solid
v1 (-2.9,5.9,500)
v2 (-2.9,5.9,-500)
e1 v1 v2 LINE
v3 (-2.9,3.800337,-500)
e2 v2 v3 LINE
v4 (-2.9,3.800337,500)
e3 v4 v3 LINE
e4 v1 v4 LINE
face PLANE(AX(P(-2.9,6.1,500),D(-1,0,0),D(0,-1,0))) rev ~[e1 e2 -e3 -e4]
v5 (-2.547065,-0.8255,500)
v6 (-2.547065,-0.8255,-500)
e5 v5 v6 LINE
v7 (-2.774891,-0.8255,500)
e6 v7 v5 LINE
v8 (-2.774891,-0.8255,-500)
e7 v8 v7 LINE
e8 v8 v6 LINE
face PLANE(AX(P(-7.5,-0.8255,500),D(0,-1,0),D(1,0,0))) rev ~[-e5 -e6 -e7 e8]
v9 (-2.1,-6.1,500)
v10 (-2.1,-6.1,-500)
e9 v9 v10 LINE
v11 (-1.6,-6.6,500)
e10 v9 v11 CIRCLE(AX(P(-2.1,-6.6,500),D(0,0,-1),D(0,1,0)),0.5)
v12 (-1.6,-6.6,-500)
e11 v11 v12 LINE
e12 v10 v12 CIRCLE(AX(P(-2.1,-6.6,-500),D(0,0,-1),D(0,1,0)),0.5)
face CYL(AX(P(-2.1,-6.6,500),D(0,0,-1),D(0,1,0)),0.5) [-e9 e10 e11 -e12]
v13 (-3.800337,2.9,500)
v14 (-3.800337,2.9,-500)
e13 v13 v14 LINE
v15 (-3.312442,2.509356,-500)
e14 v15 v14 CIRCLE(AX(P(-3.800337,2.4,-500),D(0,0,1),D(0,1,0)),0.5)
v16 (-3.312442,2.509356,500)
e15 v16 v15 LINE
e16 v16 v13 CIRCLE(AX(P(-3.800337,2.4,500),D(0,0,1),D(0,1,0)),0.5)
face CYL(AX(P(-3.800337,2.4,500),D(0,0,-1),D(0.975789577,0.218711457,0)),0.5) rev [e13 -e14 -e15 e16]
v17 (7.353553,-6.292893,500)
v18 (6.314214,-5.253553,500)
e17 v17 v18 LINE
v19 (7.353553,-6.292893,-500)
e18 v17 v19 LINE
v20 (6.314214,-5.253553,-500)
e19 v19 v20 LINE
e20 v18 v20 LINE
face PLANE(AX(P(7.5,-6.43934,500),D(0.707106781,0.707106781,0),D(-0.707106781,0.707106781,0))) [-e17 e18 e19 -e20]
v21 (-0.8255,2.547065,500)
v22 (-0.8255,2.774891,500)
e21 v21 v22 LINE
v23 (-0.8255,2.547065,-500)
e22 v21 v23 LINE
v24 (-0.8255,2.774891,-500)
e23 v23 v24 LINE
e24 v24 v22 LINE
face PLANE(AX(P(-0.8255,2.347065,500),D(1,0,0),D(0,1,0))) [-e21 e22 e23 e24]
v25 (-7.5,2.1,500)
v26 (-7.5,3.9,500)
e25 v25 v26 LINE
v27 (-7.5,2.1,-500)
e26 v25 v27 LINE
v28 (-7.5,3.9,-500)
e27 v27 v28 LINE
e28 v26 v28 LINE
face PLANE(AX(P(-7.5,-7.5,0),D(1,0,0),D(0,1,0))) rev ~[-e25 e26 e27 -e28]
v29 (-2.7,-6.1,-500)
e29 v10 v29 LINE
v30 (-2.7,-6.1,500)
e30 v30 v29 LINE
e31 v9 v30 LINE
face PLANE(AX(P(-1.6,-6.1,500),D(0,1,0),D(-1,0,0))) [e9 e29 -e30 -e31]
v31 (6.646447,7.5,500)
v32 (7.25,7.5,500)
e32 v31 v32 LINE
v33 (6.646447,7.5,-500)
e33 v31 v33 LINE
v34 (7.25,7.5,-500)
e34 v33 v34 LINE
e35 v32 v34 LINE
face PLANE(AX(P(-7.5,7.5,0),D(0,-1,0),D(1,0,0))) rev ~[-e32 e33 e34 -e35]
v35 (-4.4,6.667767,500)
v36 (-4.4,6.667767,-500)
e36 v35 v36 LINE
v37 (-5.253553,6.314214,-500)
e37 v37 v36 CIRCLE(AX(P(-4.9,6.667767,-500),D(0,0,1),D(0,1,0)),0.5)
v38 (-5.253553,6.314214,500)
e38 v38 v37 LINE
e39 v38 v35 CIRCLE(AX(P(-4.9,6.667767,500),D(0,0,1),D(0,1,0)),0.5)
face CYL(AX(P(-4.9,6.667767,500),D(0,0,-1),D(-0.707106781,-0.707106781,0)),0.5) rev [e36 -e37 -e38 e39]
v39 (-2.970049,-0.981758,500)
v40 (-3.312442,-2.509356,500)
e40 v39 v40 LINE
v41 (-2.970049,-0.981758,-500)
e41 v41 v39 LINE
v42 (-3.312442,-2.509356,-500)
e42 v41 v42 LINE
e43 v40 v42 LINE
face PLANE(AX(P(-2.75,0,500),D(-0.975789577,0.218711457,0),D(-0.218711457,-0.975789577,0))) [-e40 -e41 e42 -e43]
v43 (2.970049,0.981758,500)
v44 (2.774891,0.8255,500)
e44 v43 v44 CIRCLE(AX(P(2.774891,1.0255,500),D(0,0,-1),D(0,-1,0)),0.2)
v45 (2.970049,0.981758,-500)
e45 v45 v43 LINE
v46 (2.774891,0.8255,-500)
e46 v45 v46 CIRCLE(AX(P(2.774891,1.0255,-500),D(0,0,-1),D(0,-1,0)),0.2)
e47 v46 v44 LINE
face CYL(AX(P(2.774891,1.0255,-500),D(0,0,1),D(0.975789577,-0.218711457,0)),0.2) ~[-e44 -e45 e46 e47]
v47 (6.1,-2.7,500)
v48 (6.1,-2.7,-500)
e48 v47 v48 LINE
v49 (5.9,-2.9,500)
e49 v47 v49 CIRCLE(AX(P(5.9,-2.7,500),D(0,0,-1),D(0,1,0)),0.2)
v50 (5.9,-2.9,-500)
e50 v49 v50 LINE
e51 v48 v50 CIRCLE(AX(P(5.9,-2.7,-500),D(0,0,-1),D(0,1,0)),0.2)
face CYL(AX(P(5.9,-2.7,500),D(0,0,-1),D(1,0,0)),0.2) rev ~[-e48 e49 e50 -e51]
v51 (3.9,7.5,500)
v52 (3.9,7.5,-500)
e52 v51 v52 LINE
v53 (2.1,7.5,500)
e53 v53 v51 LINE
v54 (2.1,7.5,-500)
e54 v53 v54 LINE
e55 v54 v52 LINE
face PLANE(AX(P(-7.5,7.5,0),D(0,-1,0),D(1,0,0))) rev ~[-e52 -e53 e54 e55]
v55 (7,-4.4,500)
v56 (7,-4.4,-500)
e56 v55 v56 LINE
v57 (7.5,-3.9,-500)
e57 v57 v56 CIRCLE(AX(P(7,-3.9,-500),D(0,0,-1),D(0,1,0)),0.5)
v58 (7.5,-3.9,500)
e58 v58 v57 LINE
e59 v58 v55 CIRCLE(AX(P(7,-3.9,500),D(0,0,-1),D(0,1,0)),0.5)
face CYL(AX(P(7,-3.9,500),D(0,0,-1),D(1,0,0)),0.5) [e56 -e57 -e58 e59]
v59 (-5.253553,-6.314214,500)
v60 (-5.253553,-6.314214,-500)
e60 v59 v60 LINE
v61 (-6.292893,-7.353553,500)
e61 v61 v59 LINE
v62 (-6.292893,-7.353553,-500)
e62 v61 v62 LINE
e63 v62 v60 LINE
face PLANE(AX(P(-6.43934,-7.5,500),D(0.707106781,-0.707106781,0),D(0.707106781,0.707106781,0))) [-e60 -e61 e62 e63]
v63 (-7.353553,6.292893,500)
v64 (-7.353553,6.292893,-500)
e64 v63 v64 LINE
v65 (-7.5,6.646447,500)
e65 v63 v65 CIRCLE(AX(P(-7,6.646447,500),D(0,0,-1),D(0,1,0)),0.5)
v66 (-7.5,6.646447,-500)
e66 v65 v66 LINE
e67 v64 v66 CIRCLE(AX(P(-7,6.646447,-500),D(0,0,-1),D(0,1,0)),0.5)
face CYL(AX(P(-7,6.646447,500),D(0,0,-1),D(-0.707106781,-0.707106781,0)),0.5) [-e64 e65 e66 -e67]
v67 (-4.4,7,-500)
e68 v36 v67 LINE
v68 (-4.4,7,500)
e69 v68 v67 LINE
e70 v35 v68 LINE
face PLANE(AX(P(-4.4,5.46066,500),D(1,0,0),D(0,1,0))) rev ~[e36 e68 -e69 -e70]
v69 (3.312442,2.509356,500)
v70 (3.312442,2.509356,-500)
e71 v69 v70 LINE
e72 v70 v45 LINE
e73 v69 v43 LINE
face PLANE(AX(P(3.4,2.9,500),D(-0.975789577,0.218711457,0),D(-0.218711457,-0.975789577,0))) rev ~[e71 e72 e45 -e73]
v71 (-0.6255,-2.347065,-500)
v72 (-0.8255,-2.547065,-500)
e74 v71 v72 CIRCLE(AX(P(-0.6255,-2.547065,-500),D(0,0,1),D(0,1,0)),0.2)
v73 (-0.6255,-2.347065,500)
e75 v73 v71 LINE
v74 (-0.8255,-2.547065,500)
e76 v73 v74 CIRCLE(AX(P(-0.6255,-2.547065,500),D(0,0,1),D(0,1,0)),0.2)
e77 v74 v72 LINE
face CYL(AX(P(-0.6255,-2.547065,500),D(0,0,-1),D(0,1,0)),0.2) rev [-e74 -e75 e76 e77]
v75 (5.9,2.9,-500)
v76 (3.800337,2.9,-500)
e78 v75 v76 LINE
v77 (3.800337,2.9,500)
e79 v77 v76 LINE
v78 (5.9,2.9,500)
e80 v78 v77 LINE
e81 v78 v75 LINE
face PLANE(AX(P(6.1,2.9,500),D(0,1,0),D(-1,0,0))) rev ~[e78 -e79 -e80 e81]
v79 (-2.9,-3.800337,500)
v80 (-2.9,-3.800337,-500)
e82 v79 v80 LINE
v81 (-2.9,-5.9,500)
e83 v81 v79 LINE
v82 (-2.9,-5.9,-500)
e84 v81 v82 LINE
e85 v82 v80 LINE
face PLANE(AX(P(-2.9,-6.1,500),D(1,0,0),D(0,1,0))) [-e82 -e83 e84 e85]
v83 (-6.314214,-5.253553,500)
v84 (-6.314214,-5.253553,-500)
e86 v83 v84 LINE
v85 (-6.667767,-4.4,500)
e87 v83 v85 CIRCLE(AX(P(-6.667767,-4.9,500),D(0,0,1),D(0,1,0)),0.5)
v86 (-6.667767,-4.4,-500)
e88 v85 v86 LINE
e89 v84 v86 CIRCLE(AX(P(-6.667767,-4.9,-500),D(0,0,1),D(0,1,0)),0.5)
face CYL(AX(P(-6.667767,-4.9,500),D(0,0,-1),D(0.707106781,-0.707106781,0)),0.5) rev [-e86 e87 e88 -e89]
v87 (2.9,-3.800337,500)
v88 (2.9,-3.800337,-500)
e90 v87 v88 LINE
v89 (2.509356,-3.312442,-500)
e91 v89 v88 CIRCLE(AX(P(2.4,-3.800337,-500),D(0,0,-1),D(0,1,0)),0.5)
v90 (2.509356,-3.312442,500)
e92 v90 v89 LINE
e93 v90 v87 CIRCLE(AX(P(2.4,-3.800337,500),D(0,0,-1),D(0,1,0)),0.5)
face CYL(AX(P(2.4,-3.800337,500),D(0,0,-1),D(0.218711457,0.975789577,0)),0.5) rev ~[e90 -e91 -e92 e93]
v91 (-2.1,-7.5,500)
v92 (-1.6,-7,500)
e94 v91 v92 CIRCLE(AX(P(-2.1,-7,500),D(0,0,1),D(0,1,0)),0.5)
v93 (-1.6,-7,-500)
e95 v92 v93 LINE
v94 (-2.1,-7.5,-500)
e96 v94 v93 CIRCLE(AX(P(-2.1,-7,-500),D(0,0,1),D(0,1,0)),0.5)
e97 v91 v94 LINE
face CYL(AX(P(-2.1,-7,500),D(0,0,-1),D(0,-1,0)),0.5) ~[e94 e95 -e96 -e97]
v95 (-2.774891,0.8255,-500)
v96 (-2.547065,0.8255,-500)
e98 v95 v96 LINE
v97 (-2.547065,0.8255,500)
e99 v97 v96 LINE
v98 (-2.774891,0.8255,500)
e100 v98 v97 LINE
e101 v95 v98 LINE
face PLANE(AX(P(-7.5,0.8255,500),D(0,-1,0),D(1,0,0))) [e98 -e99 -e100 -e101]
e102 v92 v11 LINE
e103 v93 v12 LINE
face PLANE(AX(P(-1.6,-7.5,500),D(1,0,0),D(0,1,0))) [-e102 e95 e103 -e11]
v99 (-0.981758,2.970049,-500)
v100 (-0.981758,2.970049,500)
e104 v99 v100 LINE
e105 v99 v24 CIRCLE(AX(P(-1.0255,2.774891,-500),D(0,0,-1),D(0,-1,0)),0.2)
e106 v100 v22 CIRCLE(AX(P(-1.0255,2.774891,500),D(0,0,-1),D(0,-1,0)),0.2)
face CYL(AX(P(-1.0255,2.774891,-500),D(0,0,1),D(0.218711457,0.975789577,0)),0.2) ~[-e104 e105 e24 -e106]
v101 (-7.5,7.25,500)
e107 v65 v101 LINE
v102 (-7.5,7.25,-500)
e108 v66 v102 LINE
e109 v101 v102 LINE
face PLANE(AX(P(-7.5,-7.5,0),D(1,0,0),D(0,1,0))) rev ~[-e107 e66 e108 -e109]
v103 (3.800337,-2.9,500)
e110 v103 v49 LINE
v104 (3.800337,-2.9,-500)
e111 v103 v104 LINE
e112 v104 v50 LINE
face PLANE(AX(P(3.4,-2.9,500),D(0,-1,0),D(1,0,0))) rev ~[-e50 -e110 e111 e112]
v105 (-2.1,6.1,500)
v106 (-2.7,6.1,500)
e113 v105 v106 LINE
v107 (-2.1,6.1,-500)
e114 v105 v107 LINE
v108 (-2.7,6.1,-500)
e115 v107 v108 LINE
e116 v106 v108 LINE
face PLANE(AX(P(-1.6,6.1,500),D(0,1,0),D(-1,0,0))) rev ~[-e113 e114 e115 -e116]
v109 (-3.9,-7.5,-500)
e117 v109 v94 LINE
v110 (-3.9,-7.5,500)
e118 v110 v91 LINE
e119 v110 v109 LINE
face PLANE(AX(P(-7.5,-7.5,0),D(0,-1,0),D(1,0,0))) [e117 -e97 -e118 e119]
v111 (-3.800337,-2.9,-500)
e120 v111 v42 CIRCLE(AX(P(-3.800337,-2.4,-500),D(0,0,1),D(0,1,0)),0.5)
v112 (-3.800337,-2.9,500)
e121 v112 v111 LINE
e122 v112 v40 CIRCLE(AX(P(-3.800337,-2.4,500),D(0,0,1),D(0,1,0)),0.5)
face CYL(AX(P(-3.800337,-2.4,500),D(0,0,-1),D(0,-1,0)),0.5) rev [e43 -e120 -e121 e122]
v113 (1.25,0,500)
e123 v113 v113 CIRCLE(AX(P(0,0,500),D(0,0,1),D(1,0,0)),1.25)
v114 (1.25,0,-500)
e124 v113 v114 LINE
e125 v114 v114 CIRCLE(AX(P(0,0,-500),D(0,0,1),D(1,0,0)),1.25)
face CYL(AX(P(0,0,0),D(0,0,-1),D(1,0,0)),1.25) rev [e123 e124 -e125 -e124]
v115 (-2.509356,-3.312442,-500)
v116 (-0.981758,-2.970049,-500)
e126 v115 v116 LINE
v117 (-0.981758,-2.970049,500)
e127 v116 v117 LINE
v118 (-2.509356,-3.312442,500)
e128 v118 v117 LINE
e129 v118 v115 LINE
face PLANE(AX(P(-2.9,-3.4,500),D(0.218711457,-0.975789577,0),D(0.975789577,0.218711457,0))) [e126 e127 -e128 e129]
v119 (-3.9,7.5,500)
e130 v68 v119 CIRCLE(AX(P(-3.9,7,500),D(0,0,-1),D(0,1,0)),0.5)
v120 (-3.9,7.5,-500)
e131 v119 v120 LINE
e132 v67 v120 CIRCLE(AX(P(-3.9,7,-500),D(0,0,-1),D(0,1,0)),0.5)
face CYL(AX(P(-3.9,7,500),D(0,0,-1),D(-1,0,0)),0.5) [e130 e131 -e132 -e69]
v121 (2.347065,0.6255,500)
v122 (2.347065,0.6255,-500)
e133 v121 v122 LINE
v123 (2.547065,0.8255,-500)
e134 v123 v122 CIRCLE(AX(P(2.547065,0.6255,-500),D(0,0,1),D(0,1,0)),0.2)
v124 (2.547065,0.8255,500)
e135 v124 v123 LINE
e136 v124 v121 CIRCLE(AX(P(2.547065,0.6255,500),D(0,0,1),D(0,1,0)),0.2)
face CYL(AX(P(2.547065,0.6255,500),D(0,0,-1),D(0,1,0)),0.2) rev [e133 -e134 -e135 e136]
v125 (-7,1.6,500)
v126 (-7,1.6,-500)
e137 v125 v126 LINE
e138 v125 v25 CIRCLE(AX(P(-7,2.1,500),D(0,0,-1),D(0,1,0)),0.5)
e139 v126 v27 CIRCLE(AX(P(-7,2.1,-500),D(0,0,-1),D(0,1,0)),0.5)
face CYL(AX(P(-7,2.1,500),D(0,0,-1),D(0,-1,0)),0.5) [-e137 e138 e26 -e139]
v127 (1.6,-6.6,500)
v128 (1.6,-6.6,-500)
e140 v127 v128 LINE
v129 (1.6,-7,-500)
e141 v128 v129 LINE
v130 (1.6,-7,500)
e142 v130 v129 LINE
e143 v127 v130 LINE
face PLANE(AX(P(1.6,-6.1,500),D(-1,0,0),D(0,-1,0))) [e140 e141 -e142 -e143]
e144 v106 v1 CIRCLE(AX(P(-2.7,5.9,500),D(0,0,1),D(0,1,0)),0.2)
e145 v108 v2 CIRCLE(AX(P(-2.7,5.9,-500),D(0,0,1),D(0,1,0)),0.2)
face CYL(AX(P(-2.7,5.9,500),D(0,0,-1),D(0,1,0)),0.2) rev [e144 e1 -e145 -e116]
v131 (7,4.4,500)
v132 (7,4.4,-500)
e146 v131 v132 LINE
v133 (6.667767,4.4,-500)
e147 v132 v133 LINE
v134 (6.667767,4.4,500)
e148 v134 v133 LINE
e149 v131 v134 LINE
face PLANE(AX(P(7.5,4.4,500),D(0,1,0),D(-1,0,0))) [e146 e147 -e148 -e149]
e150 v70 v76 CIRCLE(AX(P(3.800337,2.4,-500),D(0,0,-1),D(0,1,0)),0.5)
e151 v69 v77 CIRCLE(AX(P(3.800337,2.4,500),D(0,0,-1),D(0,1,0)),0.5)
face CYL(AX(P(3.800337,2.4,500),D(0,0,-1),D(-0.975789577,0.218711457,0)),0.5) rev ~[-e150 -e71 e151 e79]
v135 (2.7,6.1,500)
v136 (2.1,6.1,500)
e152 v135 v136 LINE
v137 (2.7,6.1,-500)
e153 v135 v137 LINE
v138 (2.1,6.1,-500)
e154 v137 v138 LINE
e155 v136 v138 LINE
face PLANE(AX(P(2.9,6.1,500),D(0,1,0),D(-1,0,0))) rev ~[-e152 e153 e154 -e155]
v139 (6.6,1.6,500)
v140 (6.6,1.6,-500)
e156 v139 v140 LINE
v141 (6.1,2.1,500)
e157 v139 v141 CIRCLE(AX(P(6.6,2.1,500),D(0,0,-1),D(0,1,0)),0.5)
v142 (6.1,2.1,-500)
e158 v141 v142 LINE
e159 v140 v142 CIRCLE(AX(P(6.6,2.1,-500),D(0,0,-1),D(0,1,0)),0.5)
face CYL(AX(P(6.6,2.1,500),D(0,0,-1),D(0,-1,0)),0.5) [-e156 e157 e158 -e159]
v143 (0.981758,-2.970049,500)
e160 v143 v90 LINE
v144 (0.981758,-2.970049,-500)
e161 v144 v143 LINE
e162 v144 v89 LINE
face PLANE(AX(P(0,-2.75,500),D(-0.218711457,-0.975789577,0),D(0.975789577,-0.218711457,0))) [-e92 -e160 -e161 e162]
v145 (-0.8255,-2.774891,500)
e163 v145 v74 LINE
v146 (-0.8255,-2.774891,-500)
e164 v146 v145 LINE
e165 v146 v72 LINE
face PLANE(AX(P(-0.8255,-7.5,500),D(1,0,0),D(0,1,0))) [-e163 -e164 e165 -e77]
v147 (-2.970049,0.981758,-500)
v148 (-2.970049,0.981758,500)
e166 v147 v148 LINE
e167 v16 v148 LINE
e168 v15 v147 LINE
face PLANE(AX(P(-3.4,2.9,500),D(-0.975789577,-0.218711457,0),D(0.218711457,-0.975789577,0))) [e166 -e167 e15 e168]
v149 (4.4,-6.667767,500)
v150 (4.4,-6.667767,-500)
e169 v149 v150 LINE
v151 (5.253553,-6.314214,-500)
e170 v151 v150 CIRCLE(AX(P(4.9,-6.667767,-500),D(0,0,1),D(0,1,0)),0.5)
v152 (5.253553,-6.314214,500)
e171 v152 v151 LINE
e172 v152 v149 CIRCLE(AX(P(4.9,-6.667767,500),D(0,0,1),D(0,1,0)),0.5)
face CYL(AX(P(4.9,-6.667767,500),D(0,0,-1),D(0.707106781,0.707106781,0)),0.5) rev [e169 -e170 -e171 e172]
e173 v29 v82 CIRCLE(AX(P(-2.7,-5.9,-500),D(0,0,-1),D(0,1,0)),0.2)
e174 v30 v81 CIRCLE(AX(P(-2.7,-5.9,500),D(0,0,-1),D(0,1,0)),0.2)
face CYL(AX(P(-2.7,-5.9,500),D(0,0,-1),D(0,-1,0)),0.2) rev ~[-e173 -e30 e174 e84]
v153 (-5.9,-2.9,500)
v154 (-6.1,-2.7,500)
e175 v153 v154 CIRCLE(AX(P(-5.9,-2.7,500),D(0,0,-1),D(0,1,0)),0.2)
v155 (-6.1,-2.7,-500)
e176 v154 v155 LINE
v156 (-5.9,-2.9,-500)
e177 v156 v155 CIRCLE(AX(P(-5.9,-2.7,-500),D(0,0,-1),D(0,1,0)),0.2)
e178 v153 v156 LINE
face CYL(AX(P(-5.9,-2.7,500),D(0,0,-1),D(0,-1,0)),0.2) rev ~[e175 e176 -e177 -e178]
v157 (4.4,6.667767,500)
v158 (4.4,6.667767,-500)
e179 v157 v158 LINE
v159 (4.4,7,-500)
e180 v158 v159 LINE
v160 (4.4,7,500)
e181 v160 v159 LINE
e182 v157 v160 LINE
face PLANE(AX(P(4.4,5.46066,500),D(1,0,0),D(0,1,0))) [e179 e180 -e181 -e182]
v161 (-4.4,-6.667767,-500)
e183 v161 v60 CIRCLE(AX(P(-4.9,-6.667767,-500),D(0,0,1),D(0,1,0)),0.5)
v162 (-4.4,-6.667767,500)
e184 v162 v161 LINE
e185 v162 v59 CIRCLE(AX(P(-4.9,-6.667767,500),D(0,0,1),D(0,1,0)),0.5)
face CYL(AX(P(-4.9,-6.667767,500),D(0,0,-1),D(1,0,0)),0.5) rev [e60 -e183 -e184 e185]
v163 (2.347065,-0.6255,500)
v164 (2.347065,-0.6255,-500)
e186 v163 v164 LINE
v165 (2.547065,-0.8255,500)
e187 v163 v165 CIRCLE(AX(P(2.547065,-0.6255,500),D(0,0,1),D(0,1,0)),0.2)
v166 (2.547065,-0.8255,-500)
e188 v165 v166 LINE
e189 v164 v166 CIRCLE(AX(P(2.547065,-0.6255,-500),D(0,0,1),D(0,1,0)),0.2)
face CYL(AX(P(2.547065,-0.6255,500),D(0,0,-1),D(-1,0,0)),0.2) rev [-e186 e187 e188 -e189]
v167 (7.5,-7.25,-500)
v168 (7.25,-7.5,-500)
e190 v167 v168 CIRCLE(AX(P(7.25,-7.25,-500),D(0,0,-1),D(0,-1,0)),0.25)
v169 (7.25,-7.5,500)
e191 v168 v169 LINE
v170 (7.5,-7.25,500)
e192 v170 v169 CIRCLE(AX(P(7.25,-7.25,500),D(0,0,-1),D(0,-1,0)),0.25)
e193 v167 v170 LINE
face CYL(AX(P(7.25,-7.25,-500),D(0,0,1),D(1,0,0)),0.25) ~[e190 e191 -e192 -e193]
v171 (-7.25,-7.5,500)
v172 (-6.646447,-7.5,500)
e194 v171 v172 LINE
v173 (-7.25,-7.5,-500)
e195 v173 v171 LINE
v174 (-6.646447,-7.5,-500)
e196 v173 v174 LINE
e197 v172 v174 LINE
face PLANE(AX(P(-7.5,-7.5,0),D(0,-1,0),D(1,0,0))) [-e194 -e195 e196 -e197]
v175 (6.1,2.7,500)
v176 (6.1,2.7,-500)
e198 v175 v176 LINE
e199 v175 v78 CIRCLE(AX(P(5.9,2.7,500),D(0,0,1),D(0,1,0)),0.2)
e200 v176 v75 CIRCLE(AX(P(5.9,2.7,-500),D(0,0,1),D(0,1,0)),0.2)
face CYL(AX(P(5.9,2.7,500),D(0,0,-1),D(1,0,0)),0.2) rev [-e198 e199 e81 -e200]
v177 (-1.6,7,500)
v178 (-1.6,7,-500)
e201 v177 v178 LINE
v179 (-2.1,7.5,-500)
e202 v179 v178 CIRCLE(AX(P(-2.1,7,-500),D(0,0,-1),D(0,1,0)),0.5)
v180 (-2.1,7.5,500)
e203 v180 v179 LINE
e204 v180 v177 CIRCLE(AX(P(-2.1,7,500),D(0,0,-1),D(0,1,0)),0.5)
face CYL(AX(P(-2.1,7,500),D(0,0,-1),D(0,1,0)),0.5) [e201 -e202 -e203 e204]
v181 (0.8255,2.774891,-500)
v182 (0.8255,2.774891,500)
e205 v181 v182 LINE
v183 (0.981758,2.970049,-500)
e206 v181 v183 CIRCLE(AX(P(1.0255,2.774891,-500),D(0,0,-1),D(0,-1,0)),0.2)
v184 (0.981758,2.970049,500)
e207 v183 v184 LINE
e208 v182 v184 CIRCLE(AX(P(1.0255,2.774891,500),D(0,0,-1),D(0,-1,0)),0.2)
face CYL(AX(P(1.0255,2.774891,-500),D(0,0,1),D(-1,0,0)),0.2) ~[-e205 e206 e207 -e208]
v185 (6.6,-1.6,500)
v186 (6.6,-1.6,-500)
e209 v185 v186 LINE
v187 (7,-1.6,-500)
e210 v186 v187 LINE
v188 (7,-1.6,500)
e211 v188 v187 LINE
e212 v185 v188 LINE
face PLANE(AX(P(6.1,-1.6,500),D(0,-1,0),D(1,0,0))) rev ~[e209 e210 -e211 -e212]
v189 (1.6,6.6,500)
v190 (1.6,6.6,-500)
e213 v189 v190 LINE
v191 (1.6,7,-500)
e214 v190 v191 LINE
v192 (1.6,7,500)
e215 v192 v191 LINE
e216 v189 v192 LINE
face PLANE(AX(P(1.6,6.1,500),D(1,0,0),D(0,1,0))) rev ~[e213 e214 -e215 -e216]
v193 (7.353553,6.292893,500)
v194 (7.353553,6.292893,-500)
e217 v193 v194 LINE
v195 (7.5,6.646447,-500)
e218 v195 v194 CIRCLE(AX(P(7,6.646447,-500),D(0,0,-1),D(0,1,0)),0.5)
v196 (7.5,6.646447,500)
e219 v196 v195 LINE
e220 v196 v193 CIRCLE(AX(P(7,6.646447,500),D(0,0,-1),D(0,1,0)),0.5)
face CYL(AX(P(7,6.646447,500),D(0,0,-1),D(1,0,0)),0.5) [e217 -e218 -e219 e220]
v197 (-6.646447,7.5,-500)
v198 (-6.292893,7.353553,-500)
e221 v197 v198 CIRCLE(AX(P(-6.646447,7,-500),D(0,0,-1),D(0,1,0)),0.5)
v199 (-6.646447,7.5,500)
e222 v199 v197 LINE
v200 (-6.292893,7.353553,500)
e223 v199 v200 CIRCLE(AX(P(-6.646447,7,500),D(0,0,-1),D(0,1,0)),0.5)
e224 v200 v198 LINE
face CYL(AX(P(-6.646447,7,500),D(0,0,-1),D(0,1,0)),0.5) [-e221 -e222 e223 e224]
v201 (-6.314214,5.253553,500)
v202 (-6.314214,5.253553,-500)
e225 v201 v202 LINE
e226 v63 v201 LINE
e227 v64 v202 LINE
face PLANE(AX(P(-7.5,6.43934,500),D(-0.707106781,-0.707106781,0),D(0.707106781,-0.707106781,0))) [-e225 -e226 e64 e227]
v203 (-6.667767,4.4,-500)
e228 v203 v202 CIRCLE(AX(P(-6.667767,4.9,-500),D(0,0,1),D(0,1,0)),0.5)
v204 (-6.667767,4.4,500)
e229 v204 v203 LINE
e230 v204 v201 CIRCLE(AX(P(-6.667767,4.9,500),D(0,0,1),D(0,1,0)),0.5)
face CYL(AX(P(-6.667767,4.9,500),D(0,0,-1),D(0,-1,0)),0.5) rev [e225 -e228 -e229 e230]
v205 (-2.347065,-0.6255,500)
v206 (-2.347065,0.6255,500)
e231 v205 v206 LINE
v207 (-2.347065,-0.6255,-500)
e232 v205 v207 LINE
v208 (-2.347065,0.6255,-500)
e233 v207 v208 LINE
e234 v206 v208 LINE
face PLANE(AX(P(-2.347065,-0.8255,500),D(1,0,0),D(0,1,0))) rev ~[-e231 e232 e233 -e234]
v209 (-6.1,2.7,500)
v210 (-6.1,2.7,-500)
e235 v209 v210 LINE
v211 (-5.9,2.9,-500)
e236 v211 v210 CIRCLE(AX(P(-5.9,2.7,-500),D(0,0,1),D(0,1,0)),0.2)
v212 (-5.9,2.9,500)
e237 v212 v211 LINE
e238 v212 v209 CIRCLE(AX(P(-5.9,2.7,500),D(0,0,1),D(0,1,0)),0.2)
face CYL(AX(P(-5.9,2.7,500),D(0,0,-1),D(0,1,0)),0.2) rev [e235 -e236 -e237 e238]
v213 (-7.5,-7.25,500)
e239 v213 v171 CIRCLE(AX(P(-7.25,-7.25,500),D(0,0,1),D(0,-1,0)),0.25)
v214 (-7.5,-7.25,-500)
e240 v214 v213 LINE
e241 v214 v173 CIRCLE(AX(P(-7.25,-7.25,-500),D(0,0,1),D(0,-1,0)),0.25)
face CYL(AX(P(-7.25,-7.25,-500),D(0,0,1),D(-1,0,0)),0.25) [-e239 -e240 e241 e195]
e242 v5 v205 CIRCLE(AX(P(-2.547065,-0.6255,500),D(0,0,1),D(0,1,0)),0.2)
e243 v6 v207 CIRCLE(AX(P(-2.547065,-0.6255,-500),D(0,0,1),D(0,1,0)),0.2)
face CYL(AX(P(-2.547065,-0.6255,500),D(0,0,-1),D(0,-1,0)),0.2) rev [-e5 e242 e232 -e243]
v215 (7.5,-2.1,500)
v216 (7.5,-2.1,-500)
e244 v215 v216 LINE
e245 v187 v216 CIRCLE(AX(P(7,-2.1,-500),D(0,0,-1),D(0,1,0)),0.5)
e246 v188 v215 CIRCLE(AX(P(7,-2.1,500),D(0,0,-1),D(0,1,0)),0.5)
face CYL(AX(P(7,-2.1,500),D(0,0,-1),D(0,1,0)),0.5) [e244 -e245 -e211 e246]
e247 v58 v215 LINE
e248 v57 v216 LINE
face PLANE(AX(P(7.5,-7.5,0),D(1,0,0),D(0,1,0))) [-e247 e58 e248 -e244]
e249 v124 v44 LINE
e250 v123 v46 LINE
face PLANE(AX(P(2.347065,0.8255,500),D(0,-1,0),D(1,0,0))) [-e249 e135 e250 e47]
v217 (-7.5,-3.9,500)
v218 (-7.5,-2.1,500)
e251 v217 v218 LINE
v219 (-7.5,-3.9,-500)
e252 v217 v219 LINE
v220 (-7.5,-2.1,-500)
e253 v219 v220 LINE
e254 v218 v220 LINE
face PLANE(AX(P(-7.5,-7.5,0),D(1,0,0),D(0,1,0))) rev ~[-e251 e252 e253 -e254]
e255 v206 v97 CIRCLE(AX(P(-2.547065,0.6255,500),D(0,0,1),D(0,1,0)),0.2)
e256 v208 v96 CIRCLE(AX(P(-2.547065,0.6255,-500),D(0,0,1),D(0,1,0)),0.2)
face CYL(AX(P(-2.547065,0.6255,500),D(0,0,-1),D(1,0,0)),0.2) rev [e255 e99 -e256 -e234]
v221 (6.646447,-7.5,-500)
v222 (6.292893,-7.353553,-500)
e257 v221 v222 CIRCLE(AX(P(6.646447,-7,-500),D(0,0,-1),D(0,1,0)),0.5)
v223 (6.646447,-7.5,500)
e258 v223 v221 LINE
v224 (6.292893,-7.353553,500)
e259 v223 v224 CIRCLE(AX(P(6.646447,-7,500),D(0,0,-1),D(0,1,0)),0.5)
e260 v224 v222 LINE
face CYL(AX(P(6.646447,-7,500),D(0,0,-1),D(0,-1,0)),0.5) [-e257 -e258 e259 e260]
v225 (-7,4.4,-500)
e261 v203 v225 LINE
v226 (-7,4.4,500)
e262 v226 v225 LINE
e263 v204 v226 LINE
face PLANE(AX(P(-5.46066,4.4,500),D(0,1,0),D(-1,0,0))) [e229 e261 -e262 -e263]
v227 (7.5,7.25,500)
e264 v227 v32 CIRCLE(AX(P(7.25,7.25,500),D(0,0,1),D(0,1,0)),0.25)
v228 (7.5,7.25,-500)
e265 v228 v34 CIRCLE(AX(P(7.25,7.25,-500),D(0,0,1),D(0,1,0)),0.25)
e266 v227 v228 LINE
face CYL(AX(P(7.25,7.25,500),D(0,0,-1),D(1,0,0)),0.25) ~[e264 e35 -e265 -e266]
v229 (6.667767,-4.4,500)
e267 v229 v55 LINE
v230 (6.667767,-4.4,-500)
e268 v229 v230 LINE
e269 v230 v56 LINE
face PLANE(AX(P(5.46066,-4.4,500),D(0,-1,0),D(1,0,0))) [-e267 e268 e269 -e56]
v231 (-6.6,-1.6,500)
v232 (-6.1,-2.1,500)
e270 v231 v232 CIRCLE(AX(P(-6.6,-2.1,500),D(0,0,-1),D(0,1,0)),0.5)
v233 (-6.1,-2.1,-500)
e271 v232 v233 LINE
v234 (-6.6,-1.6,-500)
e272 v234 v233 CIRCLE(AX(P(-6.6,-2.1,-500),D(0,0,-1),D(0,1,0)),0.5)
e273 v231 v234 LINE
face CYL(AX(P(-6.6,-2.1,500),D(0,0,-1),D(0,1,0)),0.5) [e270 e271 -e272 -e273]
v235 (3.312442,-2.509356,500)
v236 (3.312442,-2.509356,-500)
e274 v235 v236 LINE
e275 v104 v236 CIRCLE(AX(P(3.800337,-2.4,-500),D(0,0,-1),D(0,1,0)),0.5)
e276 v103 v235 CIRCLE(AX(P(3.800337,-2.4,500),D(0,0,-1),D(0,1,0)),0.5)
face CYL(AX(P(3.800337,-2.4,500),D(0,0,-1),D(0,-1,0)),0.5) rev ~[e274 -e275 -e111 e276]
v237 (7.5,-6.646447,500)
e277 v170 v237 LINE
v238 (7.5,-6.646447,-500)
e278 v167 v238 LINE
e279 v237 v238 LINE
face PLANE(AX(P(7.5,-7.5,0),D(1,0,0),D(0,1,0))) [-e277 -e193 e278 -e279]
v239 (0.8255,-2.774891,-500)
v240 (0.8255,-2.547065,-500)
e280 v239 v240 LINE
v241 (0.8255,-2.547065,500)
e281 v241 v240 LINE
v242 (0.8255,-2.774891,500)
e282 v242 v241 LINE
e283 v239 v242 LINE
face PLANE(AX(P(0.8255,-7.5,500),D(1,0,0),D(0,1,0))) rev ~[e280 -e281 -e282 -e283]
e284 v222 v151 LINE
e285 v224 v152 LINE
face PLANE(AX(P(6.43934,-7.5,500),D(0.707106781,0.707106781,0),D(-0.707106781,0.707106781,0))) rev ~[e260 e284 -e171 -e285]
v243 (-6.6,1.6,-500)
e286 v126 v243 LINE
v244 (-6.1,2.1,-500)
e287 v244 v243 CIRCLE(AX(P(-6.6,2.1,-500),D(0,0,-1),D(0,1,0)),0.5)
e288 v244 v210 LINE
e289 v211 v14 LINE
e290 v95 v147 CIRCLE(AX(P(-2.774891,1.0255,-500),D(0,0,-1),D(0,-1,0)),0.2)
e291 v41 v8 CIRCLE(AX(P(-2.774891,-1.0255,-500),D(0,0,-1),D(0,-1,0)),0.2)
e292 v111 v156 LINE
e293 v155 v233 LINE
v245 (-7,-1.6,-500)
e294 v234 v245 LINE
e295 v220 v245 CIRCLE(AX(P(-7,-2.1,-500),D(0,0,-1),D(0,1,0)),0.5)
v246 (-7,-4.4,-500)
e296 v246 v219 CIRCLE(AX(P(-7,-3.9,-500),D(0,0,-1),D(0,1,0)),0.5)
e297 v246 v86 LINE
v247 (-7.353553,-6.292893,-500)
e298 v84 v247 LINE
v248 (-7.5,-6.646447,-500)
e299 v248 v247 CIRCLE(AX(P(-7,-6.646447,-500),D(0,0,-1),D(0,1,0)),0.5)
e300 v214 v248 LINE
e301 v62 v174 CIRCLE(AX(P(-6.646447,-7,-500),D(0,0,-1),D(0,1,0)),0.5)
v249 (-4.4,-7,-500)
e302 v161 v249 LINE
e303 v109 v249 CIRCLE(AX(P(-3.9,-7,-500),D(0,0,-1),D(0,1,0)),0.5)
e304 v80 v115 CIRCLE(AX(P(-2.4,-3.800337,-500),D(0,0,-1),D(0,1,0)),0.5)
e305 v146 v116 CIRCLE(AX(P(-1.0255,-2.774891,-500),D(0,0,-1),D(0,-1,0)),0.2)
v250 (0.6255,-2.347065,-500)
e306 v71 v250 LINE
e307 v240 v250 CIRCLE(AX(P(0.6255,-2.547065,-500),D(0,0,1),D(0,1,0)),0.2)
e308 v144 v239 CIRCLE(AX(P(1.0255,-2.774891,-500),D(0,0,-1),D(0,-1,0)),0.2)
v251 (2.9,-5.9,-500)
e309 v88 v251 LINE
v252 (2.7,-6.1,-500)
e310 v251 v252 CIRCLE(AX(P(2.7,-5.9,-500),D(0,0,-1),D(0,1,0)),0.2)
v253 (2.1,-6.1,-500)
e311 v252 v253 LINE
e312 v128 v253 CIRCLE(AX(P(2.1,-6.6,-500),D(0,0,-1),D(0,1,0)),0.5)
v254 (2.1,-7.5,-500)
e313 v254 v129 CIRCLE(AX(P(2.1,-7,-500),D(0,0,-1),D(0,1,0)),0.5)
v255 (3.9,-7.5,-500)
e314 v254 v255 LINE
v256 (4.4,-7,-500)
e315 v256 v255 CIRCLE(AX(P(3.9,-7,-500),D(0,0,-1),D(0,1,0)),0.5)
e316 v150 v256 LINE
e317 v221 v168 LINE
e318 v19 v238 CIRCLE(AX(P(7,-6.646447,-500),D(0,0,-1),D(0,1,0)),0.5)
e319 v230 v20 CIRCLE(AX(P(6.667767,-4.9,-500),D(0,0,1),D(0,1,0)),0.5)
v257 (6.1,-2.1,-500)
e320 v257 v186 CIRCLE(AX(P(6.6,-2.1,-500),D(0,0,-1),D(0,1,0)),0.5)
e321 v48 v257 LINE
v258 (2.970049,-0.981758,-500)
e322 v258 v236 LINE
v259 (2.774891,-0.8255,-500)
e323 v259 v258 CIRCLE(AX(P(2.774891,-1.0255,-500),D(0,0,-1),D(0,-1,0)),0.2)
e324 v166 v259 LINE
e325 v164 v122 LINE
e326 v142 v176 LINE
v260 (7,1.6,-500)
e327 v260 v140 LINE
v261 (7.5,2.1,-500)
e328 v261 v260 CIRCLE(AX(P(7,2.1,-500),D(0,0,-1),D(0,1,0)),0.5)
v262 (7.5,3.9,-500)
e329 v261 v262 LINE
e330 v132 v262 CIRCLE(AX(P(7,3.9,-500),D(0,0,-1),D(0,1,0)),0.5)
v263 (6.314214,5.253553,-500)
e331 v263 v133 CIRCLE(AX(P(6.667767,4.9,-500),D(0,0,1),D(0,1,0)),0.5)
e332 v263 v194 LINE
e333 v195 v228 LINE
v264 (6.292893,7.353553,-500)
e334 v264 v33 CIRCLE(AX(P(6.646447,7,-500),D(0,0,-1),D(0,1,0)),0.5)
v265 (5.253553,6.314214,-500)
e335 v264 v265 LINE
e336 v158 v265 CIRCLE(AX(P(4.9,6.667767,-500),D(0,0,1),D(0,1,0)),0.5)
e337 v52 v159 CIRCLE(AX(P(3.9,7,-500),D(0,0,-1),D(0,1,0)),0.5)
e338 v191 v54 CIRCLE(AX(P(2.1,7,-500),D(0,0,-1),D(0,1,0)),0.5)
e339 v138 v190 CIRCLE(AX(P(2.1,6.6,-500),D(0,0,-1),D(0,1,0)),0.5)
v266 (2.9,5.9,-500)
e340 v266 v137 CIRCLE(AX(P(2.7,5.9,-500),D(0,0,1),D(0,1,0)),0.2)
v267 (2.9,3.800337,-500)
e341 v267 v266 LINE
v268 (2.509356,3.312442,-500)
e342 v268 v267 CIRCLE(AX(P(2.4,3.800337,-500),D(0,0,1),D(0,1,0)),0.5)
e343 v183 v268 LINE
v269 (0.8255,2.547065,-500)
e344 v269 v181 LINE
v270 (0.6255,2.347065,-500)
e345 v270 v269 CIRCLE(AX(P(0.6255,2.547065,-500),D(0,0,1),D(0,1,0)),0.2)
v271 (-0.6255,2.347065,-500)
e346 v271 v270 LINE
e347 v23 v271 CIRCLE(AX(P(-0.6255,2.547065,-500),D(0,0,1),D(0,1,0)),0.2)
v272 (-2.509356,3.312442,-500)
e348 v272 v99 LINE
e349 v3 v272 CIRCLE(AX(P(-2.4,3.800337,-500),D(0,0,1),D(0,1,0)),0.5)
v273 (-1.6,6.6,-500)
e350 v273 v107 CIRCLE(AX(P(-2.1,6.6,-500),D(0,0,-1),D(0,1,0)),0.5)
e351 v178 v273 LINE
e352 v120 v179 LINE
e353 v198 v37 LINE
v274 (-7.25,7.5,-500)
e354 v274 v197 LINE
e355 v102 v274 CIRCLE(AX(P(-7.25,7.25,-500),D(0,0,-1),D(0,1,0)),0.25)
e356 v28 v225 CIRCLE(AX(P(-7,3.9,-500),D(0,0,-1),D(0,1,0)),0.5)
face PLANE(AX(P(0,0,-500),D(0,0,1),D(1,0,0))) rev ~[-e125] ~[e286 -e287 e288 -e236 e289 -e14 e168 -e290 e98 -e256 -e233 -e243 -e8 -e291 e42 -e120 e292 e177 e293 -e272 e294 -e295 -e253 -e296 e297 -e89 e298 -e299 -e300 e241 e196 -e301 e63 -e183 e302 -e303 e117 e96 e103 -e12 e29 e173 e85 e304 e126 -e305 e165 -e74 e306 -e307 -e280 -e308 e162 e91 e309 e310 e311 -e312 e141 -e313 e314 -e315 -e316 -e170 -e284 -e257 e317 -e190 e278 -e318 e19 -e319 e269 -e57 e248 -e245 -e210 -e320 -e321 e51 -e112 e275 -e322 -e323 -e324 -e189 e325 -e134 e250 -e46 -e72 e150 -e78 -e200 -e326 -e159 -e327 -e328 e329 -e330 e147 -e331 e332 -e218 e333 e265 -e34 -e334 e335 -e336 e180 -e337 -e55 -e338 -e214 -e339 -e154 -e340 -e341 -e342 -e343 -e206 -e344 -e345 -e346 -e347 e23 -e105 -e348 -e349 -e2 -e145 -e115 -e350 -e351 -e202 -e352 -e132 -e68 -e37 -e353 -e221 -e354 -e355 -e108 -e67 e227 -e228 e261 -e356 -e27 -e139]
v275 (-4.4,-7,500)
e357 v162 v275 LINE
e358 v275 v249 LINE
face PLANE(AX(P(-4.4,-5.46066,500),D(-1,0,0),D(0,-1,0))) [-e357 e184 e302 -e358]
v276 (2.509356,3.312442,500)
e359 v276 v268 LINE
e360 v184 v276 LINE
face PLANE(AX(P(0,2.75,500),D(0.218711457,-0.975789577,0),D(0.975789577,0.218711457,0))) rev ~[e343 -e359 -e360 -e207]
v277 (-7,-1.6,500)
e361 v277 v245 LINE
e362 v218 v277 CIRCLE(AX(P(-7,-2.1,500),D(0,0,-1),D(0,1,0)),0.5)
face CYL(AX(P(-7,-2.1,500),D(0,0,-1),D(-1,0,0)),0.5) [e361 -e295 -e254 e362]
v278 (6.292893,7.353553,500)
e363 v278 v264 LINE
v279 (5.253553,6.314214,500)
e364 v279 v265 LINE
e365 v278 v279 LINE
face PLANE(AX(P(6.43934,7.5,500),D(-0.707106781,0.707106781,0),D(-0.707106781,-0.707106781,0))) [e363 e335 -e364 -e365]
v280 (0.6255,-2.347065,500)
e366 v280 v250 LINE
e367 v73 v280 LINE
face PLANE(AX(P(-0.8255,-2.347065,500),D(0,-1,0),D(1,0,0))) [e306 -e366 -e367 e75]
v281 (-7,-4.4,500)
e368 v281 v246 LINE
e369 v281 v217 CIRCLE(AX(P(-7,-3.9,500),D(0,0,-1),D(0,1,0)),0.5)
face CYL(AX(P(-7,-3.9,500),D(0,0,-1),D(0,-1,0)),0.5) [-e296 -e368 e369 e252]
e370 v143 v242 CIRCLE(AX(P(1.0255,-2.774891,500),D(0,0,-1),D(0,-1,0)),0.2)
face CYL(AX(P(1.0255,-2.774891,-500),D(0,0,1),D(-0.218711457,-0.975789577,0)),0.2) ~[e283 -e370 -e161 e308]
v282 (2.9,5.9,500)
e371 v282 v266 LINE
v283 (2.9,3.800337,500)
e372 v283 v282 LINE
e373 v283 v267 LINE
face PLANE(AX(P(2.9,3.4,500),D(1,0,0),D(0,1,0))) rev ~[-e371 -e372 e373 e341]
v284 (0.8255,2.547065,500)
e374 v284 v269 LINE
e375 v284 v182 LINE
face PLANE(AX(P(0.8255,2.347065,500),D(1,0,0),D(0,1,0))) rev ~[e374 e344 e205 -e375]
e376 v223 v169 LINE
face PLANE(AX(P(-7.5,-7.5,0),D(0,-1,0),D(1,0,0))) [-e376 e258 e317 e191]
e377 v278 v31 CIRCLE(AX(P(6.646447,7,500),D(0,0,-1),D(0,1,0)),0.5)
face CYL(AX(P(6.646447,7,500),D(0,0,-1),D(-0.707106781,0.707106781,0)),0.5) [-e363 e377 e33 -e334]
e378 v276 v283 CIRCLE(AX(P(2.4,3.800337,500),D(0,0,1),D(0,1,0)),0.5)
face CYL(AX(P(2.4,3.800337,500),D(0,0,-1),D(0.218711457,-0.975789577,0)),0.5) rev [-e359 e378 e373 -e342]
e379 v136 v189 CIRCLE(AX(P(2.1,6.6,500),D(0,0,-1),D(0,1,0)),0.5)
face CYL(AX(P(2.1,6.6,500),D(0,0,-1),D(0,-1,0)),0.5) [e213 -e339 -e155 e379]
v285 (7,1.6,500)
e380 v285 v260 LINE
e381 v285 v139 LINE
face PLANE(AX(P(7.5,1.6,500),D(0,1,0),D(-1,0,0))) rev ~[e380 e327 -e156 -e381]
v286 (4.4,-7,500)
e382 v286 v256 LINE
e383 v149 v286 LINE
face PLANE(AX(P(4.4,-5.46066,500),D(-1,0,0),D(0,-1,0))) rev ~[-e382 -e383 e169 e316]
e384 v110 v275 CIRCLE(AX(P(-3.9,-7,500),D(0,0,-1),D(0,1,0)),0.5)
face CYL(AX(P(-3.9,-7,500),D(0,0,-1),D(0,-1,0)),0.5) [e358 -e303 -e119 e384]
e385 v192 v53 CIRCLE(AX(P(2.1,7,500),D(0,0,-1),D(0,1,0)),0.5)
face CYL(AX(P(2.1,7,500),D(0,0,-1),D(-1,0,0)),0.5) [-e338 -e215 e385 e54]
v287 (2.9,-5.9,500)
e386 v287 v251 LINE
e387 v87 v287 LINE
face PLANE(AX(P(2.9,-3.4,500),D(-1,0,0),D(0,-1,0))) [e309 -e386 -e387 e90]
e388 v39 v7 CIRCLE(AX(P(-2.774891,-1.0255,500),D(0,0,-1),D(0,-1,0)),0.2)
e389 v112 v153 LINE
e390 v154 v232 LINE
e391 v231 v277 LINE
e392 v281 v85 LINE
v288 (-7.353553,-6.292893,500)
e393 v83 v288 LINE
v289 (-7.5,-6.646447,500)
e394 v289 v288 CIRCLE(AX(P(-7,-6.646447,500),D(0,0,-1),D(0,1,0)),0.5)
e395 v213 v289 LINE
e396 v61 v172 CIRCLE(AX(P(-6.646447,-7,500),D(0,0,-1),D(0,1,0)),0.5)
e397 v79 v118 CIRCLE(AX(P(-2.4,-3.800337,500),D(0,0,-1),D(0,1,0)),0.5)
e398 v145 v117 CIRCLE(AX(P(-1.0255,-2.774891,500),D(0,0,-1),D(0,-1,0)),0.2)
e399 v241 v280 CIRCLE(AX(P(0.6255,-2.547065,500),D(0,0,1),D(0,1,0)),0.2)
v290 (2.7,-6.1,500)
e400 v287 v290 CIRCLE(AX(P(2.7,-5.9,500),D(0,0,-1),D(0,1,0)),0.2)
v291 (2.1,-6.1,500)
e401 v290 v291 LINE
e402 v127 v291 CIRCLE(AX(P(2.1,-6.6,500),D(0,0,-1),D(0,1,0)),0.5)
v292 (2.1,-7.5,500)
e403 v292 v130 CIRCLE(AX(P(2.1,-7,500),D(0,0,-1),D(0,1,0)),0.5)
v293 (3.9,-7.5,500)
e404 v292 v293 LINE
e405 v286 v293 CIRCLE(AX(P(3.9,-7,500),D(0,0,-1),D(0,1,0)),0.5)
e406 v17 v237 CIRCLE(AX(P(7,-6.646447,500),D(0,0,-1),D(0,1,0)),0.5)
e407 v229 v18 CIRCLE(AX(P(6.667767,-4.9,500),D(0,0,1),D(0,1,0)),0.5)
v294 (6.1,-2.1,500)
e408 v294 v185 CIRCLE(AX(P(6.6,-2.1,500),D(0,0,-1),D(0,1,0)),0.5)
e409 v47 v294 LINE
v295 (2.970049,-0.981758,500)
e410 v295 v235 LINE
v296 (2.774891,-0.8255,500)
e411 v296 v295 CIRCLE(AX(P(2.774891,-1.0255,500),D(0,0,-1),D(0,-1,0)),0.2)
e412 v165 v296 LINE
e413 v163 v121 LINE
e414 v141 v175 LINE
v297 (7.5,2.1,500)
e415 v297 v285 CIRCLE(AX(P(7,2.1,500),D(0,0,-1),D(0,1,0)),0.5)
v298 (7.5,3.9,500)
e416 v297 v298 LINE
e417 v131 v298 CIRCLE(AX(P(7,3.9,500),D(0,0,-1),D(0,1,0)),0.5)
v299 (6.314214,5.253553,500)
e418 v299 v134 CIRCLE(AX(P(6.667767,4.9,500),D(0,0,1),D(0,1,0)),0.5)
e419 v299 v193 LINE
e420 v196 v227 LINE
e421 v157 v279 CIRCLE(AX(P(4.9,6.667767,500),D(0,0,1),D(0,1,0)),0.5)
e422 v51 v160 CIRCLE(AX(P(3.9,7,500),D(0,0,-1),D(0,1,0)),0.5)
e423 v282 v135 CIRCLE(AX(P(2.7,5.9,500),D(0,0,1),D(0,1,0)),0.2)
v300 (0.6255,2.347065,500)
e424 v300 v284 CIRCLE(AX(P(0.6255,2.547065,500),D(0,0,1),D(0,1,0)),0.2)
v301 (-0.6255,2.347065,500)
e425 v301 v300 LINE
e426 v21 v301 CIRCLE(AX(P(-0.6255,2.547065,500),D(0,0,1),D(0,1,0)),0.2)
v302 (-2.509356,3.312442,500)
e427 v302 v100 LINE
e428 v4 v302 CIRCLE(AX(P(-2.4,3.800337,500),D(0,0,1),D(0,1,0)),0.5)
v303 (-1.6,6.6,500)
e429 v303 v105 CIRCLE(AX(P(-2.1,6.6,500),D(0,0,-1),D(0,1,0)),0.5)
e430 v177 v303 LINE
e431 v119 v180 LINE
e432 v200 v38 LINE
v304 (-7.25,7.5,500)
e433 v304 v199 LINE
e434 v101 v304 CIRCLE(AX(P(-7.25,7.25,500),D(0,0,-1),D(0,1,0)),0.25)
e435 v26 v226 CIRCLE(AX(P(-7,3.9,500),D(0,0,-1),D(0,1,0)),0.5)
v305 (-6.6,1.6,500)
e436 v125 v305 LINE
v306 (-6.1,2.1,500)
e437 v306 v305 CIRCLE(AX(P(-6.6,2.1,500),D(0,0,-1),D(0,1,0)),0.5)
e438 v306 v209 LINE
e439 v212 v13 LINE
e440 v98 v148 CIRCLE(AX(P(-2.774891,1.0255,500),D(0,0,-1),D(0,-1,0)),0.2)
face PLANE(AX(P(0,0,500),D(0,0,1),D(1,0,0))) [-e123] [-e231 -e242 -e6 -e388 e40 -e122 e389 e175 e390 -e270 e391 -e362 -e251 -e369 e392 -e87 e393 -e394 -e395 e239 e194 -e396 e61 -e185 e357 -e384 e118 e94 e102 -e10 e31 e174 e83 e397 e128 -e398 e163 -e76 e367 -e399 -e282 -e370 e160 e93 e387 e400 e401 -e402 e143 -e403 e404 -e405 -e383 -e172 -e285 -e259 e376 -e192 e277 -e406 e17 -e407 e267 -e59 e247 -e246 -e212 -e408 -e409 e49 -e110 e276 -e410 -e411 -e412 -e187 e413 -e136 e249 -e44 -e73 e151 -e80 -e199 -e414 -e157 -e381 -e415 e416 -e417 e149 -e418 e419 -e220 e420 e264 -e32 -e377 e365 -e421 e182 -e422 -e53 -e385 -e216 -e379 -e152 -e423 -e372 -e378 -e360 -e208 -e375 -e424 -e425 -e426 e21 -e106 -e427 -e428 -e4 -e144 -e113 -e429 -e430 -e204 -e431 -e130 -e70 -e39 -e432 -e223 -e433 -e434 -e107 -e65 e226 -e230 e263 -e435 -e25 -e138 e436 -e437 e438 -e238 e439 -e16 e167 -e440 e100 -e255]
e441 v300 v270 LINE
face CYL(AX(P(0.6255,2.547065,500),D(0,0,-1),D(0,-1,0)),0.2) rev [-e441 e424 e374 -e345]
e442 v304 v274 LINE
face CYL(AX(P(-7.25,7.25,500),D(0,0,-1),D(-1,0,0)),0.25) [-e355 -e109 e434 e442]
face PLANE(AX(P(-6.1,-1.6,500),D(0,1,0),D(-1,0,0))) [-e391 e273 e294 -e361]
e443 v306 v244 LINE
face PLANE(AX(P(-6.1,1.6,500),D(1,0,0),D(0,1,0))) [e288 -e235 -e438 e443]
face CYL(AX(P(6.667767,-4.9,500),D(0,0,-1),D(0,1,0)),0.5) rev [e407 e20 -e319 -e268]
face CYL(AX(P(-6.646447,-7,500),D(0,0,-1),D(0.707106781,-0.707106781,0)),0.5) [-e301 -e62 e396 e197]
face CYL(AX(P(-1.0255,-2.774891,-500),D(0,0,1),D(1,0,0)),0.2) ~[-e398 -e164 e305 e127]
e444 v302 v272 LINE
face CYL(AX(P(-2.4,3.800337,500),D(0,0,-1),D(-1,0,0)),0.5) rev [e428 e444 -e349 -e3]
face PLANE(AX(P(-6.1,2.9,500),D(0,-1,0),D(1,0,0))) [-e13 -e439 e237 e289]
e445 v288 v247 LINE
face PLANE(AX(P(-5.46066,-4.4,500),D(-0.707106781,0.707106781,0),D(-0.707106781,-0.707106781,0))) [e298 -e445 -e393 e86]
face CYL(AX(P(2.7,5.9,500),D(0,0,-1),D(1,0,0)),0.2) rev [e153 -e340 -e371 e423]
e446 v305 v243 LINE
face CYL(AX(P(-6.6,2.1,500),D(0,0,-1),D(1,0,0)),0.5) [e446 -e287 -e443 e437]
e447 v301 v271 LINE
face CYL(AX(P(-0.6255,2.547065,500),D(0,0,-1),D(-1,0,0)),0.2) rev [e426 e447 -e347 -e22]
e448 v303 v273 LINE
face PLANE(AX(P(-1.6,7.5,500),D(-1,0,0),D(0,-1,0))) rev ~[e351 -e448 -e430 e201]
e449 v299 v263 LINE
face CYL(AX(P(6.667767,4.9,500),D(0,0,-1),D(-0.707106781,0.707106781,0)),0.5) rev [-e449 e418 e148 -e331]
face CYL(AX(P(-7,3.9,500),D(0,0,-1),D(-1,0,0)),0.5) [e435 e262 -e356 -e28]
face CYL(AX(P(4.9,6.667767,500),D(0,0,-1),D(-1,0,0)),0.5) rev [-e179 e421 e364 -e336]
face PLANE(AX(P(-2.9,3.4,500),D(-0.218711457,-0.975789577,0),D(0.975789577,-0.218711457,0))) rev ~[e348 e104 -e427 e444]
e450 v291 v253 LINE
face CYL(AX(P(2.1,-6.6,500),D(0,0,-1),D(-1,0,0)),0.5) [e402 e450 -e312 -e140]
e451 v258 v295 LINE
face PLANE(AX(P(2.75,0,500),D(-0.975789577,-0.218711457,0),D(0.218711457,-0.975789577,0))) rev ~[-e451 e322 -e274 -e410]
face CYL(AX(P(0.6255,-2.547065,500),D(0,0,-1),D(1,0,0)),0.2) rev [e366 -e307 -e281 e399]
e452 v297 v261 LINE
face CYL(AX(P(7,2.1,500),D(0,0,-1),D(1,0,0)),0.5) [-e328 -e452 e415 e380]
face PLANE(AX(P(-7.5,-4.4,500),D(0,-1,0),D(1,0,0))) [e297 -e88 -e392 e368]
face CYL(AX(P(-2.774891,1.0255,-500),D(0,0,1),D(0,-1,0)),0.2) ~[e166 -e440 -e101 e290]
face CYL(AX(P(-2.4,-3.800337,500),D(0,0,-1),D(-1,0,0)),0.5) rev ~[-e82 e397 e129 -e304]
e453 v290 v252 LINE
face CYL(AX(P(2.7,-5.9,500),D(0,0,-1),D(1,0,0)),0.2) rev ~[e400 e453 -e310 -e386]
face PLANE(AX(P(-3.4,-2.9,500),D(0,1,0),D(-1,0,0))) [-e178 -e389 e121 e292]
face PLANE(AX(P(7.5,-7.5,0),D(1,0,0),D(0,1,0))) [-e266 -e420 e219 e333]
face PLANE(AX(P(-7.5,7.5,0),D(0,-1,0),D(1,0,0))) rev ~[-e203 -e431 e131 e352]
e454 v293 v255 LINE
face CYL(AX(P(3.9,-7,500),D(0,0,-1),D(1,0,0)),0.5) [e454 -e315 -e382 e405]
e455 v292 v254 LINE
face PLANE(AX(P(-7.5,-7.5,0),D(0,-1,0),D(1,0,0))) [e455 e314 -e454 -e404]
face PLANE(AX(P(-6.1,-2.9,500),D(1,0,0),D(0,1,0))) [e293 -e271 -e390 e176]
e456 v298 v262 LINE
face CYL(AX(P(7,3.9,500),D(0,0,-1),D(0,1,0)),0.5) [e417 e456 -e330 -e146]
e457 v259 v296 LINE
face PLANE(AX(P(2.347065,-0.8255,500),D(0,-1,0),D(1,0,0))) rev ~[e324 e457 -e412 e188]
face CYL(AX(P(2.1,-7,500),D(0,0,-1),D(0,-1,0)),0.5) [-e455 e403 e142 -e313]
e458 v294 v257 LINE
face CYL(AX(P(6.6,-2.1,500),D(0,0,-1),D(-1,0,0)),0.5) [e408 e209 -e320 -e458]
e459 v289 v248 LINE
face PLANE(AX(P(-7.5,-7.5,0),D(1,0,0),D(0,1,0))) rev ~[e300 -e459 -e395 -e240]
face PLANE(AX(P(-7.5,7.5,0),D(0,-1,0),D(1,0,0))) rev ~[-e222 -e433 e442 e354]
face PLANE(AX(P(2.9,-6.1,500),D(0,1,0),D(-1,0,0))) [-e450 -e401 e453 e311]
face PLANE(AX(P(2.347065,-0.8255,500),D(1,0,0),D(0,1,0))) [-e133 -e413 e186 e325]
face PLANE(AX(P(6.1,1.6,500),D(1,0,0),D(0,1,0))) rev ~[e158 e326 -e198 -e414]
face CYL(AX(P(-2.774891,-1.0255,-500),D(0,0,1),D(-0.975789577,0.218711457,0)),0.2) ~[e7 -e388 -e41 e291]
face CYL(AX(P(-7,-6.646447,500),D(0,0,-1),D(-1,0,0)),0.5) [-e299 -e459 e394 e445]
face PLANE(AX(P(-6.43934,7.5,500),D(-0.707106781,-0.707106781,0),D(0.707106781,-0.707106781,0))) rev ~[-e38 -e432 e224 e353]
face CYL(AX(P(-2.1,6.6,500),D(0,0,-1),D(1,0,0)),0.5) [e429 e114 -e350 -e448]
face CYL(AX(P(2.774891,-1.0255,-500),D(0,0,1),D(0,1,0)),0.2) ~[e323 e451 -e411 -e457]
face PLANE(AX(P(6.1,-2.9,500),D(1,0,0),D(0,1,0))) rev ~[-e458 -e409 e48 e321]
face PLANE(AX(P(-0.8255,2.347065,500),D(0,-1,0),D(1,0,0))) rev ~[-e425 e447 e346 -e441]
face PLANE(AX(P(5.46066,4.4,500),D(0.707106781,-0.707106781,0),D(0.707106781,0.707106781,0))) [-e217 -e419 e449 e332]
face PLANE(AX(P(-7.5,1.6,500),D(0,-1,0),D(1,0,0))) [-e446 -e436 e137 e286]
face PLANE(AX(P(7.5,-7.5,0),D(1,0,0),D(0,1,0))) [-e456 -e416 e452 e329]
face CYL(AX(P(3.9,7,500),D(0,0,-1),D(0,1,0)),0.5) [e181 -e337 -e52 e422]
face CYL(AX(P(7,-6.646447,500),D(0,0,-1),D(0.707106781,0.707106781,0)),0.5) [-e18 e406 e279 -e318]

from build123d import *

# Parameters (mm, degrees)
SKETCH1_W           = 15
SKETCH1_H           = 15
SKETCH1_R           = 1.25
BOSS_EXTRUDE1_DEPTH = 500
FILLET1_R           = 0.25
CUT_EXTRUDE1_DEPTH  = 1001
CUT_EXTRUDE3_DEPTH  = 1001
FILLET3_R           = 0.5
FILLET4_R           = 0.5
FILLET5_R           = 3
FILLET6_R           = 0.2
CUT_EXTRUDE4_DEPTH  = 1001
FILLET8_R           = 0.5
SKETCH6_W           = 5.1529354
SKETCH6_H           = 1.651
SKETCH6_W_2         = 1.651
SKETCH6_H_2         = 5.1529354
CUT_EXTRUDE5_DEPTH  = 1001
FILLET10_R          = 0.2


with BuildPart() as part:
    # Sketch1 → Boss-Extrude1 (new body, symmetric)
    with BuildSketch(Plane.XY):
        Rectangle(SKETCH1_W, SKETCH1_H)
        Circle(SKETCH1_R, mode=Mode.SUBTRACT)
    extrude(amount=BOSS_EXTRUDE1_DEPTH, both=True)

    # Fillet1
    fillet1_edges = [part.edges().sort_by_distance(p)[0] for p in [
        (7.5, -7.5, 0),
        (-7.5, -7.5, 0),
        (-7.5, 7.5, 0),
        (7.5, 7.5, 0),
    ]]
    fillet(fillet1_edges, radius=FILLET1_R)

    # Sketch2 → Cut-Extrude1 (cut, through all)
    with BuildSketch(Plane.XY.offset(500)):
        Polygon((-7.5, 1.6), (-6.1, 1.6), (-6.1, 2.9), (-3.4, 2.9), (-3.4, -2.9), (-6.1, -2.9), (-6.1, -1.6), (-7.5, -1.6), align=None)
        Polygon((2.9, 6.1), (1.6, 6.1), (1.6, 7.5), (-1.6, 7.5), (-1.6, 6.1), (-2.9, 6.1), (-2.9, 3.4), (2.9, 3.4), align=None)
        Polygon((-1.6, -7.5), (-1.6, -6.1), (-2.9, -6.1), (-2.9, -3.4), (2.9, -3.4), (2.9, -6.1), (1.6, -6.1), (1.6, -7.5), align=None)
        Polygon((6.1, -2.9), (6.1, -1.6), (7.5, -1.6), (7.5, 1.6), (6.1, 1.6), (6.1, 2.9), (3.4, 2.9), (3.4, -2.9), align=None)
    extrude(amount=-CUT_EXTRUDE1_DEPTH, mode=Mode.SUBTRACT)

    # Sketch4 → Cut-Extrude3 (cut, through all)
    with BuildSketch(Plane.XY.offset(500)):
        Polygon((-3.4, 2.9), (-2.75, 0), (-3.4, -2.9), align=None)
        Polygon((-2.9, 3.4), (0, 2.75), (2.9, 3.4), align=None)
        Polygon((3.4, 2.9), (2.75, 0), (3.4, -2.9), align=None)
        Polygon((-2.9, -3.4), (0, -2.75), (2.9, -3.4), align=None)
    extrude(amount=-CUT_EXTRUDE3_DEPTH, mode=Mode.SUBTRACT)

    # Fillet3
    fillet3_edges = [part.edges().sort_by_distance(p)[0] for p in [
        (1.6, -7.5, 0),
        (-1.6, -7.5, 0),
        (-1.6, -6.1, 0),
        (1.6, -6.1, 0),
        (6.1, 1.6, 0),
        (7.5, 1.6, 0),
        (7.5, -1.6, 0),
        (6.1, -1.6, 0),
        (-7.5, -1.6, 0),
        (-7.5, 1.6, 0),
        (-6.1, 1.6, 0),
        (-6.1, -1.6, 0),
        (-1.6, 6.1, 0),
        (-1.6, 7.5, 0),
        (1.6, 7.5, 0),
        (1.6, 6.1, 0),
    ]]
    fillet(fillet3_edges, radius=FILLET3_R)

    # Fillet4
    fillet4_edges = [part.edges().sort_by_distance(p)[0] for p in [
        (-2.9, -3.4, 0),
        (2.9, -3.4, 0),
        (3.4, -2.9, 0),
        (3.4, 2.9, 0),
        (-3.4, 2.9, 0),
        (-3.4, -2.9, 0),
        (2.9, 3.4, 0),
        (-2.9, 3.4, 0),
    ]]
    fillet(fillet4_edges, radius=FILLET4_R)

    # Fillet5
    fillet5_edges = [part.edges().sort_by_distance(p)[0] for p in [
        (-2.75, 0, 0),
        (0, 2.75, 0),
        (2.75, 0, 0),
        (0, -2.75, 0),
    ]]
    fillet(fillet5_edges, radius=FILLET5_R)

    # Fillet6
    fillet6_edges = [part.edges().sort_by_distance(p)[0] for p in [
        (-2.9, -6.1, 0),
        (2.9, -6.1, 0),
        (6.1, -2.9, 0),
        (6.1, 2.9, 0),
        (-6.1, 2.9, 0),
        (-6.1, -2.9, 0),
        (2.9, 6.1, 0),
        (-2.9, 6.1, 0),
    ]]
    fillet(fillet6_edges, radius=FILLET6_R)

    # Sketch5 → Cut-Extrude4 (cut, through all)
    with BuildSketch(Plane.XY.offset(500)):
        Polygon((-7.5, 6.439339828), (-5.460660172, 4.4), (-7.5, 4.4), align=None)
        Polygon((-6.439339828, 7.5), (-4.4, 5.460660172), (-4.4, 7.5), align=None)
        Polygon((4.4, 7.5), (6.439339828, 7.5), (4.4, 5.460660172), align=None)
        Polygon((7.5, 6.439339828), (7.5, 4.4), (5.460660172, 4.4), align=None)
        Polygon((7.5, -6.439339828), (5.460660172, -4.4), (7.5, -4.4), align=None)
        Polygon((6.439339828, -7.5), (4.4, -5.460660172), (4.4, -7.5), align=None)
        Polygon((-4.4, -7.5), (-6.439339828, -7.5), (-4.4, -5.460660172), align=None)
        Polygon((-7.5, -6.439339828), (-7.5, -4.4), (-5.460660172, -4.4), align=None)
    extrude(amount=-CUT_EXTRUDE4_DEPTH, mode=Mode.SUBTRACT)

    # Fillet8
    fillet8_edges = [part.edges().sort_by_distance(p)[0] for p in [
        (-7.5, 4.4, 0),
        (-7.5, 6.439339828, 0),
        (-5.460660172, 4.4, 0),
        (7.5, -4.4, 0),
        (7.5, -6.439339828, 0),
        (5.460660172, -4.4, 0),
        (5.460660172, 4.4, 0),
        (7.5, 6.439339828, 0),
        (7.5, 4.4, 0),
        (-4.4, 7.5, 0),
        (-4.4, 5.460660172, 0),
        (-6.439339828, 7.5, 0),
        (-5.460660172, -4.4, 0),
        (-7.5, -6.439339828, 0),
        (-7.5, -4.4, 0),
        (4.4, 5.460660172, 0),
        (4.4, 7.5, 0),
        (6.439339828, 7.5, 0),
        (6.439339828, -7.5, 0),
        (4.4, -7.5, 0),
        (4.4, -5.460660172, 0),
        (-6.439339828, -7.5, 0),
        (-4.4, -5.460660172, 0),
        (-4.4, -7.5, 0),
    ]]
    fillet(fillet8_edges, radius=FILLET8_R)

    # Sketch6 → Cut-Extrude5 (cut, through all)
    with BuildSketch(Plane.XY.offset(500)):
        with Locations((4.9235323, 0)):
            Rectangle(SKETCH6_W, SKETCH6_H)
        with Locations((0, -4.9235323)):
            Rectangle(SKETCH6_W_2, SKETCH6_H_2)
        with Locations((-4.9235323, 0)):
            Rectangle(SKETCH6_W, SKETCH6_H)
        with Locations((0, 4.9235323)):
            Rectangle(SKETCH6_W_2, SKETCH6_H_2)
    extrude(amount=-CUT_EXTRUDE5_DEPTH, mode=Mode.SUBTRACT)

    # Fillet10
    fillet10_edges = [part.edges().sort_by_distance(p)[0] for p in [
        (0.8255, -2.935025862, 0),
        (-0.8255, -2.935025862, 0),
        (0.8255, -2.3470646, 0),
        (-0.8255, -2.3470646, 0),
        (2.935025862, 0.8255, 0),
        (2.935025862, -0.8255, 0),
        (2.3470646, 0.8255, 0),
        (2.3470646, -0.8255, 0),
        (-2.935025862, -0.8255, 0),
        (-2.935025862, 0.8255, 0),
        (-2.3470646, -0.8255, 0),
        (-2.3470646, 0.8255, 0),
        (-0.8255, 2.935025862, 0),
        (0.8255, 2.935025862, 0),
        (-0.8255, 2.3470646, 0),
        (0.8255, 2.3470646, 0),
    ]]
    fillet(fillet10_edges, radius=FILLET10_R)


solid = part.part
